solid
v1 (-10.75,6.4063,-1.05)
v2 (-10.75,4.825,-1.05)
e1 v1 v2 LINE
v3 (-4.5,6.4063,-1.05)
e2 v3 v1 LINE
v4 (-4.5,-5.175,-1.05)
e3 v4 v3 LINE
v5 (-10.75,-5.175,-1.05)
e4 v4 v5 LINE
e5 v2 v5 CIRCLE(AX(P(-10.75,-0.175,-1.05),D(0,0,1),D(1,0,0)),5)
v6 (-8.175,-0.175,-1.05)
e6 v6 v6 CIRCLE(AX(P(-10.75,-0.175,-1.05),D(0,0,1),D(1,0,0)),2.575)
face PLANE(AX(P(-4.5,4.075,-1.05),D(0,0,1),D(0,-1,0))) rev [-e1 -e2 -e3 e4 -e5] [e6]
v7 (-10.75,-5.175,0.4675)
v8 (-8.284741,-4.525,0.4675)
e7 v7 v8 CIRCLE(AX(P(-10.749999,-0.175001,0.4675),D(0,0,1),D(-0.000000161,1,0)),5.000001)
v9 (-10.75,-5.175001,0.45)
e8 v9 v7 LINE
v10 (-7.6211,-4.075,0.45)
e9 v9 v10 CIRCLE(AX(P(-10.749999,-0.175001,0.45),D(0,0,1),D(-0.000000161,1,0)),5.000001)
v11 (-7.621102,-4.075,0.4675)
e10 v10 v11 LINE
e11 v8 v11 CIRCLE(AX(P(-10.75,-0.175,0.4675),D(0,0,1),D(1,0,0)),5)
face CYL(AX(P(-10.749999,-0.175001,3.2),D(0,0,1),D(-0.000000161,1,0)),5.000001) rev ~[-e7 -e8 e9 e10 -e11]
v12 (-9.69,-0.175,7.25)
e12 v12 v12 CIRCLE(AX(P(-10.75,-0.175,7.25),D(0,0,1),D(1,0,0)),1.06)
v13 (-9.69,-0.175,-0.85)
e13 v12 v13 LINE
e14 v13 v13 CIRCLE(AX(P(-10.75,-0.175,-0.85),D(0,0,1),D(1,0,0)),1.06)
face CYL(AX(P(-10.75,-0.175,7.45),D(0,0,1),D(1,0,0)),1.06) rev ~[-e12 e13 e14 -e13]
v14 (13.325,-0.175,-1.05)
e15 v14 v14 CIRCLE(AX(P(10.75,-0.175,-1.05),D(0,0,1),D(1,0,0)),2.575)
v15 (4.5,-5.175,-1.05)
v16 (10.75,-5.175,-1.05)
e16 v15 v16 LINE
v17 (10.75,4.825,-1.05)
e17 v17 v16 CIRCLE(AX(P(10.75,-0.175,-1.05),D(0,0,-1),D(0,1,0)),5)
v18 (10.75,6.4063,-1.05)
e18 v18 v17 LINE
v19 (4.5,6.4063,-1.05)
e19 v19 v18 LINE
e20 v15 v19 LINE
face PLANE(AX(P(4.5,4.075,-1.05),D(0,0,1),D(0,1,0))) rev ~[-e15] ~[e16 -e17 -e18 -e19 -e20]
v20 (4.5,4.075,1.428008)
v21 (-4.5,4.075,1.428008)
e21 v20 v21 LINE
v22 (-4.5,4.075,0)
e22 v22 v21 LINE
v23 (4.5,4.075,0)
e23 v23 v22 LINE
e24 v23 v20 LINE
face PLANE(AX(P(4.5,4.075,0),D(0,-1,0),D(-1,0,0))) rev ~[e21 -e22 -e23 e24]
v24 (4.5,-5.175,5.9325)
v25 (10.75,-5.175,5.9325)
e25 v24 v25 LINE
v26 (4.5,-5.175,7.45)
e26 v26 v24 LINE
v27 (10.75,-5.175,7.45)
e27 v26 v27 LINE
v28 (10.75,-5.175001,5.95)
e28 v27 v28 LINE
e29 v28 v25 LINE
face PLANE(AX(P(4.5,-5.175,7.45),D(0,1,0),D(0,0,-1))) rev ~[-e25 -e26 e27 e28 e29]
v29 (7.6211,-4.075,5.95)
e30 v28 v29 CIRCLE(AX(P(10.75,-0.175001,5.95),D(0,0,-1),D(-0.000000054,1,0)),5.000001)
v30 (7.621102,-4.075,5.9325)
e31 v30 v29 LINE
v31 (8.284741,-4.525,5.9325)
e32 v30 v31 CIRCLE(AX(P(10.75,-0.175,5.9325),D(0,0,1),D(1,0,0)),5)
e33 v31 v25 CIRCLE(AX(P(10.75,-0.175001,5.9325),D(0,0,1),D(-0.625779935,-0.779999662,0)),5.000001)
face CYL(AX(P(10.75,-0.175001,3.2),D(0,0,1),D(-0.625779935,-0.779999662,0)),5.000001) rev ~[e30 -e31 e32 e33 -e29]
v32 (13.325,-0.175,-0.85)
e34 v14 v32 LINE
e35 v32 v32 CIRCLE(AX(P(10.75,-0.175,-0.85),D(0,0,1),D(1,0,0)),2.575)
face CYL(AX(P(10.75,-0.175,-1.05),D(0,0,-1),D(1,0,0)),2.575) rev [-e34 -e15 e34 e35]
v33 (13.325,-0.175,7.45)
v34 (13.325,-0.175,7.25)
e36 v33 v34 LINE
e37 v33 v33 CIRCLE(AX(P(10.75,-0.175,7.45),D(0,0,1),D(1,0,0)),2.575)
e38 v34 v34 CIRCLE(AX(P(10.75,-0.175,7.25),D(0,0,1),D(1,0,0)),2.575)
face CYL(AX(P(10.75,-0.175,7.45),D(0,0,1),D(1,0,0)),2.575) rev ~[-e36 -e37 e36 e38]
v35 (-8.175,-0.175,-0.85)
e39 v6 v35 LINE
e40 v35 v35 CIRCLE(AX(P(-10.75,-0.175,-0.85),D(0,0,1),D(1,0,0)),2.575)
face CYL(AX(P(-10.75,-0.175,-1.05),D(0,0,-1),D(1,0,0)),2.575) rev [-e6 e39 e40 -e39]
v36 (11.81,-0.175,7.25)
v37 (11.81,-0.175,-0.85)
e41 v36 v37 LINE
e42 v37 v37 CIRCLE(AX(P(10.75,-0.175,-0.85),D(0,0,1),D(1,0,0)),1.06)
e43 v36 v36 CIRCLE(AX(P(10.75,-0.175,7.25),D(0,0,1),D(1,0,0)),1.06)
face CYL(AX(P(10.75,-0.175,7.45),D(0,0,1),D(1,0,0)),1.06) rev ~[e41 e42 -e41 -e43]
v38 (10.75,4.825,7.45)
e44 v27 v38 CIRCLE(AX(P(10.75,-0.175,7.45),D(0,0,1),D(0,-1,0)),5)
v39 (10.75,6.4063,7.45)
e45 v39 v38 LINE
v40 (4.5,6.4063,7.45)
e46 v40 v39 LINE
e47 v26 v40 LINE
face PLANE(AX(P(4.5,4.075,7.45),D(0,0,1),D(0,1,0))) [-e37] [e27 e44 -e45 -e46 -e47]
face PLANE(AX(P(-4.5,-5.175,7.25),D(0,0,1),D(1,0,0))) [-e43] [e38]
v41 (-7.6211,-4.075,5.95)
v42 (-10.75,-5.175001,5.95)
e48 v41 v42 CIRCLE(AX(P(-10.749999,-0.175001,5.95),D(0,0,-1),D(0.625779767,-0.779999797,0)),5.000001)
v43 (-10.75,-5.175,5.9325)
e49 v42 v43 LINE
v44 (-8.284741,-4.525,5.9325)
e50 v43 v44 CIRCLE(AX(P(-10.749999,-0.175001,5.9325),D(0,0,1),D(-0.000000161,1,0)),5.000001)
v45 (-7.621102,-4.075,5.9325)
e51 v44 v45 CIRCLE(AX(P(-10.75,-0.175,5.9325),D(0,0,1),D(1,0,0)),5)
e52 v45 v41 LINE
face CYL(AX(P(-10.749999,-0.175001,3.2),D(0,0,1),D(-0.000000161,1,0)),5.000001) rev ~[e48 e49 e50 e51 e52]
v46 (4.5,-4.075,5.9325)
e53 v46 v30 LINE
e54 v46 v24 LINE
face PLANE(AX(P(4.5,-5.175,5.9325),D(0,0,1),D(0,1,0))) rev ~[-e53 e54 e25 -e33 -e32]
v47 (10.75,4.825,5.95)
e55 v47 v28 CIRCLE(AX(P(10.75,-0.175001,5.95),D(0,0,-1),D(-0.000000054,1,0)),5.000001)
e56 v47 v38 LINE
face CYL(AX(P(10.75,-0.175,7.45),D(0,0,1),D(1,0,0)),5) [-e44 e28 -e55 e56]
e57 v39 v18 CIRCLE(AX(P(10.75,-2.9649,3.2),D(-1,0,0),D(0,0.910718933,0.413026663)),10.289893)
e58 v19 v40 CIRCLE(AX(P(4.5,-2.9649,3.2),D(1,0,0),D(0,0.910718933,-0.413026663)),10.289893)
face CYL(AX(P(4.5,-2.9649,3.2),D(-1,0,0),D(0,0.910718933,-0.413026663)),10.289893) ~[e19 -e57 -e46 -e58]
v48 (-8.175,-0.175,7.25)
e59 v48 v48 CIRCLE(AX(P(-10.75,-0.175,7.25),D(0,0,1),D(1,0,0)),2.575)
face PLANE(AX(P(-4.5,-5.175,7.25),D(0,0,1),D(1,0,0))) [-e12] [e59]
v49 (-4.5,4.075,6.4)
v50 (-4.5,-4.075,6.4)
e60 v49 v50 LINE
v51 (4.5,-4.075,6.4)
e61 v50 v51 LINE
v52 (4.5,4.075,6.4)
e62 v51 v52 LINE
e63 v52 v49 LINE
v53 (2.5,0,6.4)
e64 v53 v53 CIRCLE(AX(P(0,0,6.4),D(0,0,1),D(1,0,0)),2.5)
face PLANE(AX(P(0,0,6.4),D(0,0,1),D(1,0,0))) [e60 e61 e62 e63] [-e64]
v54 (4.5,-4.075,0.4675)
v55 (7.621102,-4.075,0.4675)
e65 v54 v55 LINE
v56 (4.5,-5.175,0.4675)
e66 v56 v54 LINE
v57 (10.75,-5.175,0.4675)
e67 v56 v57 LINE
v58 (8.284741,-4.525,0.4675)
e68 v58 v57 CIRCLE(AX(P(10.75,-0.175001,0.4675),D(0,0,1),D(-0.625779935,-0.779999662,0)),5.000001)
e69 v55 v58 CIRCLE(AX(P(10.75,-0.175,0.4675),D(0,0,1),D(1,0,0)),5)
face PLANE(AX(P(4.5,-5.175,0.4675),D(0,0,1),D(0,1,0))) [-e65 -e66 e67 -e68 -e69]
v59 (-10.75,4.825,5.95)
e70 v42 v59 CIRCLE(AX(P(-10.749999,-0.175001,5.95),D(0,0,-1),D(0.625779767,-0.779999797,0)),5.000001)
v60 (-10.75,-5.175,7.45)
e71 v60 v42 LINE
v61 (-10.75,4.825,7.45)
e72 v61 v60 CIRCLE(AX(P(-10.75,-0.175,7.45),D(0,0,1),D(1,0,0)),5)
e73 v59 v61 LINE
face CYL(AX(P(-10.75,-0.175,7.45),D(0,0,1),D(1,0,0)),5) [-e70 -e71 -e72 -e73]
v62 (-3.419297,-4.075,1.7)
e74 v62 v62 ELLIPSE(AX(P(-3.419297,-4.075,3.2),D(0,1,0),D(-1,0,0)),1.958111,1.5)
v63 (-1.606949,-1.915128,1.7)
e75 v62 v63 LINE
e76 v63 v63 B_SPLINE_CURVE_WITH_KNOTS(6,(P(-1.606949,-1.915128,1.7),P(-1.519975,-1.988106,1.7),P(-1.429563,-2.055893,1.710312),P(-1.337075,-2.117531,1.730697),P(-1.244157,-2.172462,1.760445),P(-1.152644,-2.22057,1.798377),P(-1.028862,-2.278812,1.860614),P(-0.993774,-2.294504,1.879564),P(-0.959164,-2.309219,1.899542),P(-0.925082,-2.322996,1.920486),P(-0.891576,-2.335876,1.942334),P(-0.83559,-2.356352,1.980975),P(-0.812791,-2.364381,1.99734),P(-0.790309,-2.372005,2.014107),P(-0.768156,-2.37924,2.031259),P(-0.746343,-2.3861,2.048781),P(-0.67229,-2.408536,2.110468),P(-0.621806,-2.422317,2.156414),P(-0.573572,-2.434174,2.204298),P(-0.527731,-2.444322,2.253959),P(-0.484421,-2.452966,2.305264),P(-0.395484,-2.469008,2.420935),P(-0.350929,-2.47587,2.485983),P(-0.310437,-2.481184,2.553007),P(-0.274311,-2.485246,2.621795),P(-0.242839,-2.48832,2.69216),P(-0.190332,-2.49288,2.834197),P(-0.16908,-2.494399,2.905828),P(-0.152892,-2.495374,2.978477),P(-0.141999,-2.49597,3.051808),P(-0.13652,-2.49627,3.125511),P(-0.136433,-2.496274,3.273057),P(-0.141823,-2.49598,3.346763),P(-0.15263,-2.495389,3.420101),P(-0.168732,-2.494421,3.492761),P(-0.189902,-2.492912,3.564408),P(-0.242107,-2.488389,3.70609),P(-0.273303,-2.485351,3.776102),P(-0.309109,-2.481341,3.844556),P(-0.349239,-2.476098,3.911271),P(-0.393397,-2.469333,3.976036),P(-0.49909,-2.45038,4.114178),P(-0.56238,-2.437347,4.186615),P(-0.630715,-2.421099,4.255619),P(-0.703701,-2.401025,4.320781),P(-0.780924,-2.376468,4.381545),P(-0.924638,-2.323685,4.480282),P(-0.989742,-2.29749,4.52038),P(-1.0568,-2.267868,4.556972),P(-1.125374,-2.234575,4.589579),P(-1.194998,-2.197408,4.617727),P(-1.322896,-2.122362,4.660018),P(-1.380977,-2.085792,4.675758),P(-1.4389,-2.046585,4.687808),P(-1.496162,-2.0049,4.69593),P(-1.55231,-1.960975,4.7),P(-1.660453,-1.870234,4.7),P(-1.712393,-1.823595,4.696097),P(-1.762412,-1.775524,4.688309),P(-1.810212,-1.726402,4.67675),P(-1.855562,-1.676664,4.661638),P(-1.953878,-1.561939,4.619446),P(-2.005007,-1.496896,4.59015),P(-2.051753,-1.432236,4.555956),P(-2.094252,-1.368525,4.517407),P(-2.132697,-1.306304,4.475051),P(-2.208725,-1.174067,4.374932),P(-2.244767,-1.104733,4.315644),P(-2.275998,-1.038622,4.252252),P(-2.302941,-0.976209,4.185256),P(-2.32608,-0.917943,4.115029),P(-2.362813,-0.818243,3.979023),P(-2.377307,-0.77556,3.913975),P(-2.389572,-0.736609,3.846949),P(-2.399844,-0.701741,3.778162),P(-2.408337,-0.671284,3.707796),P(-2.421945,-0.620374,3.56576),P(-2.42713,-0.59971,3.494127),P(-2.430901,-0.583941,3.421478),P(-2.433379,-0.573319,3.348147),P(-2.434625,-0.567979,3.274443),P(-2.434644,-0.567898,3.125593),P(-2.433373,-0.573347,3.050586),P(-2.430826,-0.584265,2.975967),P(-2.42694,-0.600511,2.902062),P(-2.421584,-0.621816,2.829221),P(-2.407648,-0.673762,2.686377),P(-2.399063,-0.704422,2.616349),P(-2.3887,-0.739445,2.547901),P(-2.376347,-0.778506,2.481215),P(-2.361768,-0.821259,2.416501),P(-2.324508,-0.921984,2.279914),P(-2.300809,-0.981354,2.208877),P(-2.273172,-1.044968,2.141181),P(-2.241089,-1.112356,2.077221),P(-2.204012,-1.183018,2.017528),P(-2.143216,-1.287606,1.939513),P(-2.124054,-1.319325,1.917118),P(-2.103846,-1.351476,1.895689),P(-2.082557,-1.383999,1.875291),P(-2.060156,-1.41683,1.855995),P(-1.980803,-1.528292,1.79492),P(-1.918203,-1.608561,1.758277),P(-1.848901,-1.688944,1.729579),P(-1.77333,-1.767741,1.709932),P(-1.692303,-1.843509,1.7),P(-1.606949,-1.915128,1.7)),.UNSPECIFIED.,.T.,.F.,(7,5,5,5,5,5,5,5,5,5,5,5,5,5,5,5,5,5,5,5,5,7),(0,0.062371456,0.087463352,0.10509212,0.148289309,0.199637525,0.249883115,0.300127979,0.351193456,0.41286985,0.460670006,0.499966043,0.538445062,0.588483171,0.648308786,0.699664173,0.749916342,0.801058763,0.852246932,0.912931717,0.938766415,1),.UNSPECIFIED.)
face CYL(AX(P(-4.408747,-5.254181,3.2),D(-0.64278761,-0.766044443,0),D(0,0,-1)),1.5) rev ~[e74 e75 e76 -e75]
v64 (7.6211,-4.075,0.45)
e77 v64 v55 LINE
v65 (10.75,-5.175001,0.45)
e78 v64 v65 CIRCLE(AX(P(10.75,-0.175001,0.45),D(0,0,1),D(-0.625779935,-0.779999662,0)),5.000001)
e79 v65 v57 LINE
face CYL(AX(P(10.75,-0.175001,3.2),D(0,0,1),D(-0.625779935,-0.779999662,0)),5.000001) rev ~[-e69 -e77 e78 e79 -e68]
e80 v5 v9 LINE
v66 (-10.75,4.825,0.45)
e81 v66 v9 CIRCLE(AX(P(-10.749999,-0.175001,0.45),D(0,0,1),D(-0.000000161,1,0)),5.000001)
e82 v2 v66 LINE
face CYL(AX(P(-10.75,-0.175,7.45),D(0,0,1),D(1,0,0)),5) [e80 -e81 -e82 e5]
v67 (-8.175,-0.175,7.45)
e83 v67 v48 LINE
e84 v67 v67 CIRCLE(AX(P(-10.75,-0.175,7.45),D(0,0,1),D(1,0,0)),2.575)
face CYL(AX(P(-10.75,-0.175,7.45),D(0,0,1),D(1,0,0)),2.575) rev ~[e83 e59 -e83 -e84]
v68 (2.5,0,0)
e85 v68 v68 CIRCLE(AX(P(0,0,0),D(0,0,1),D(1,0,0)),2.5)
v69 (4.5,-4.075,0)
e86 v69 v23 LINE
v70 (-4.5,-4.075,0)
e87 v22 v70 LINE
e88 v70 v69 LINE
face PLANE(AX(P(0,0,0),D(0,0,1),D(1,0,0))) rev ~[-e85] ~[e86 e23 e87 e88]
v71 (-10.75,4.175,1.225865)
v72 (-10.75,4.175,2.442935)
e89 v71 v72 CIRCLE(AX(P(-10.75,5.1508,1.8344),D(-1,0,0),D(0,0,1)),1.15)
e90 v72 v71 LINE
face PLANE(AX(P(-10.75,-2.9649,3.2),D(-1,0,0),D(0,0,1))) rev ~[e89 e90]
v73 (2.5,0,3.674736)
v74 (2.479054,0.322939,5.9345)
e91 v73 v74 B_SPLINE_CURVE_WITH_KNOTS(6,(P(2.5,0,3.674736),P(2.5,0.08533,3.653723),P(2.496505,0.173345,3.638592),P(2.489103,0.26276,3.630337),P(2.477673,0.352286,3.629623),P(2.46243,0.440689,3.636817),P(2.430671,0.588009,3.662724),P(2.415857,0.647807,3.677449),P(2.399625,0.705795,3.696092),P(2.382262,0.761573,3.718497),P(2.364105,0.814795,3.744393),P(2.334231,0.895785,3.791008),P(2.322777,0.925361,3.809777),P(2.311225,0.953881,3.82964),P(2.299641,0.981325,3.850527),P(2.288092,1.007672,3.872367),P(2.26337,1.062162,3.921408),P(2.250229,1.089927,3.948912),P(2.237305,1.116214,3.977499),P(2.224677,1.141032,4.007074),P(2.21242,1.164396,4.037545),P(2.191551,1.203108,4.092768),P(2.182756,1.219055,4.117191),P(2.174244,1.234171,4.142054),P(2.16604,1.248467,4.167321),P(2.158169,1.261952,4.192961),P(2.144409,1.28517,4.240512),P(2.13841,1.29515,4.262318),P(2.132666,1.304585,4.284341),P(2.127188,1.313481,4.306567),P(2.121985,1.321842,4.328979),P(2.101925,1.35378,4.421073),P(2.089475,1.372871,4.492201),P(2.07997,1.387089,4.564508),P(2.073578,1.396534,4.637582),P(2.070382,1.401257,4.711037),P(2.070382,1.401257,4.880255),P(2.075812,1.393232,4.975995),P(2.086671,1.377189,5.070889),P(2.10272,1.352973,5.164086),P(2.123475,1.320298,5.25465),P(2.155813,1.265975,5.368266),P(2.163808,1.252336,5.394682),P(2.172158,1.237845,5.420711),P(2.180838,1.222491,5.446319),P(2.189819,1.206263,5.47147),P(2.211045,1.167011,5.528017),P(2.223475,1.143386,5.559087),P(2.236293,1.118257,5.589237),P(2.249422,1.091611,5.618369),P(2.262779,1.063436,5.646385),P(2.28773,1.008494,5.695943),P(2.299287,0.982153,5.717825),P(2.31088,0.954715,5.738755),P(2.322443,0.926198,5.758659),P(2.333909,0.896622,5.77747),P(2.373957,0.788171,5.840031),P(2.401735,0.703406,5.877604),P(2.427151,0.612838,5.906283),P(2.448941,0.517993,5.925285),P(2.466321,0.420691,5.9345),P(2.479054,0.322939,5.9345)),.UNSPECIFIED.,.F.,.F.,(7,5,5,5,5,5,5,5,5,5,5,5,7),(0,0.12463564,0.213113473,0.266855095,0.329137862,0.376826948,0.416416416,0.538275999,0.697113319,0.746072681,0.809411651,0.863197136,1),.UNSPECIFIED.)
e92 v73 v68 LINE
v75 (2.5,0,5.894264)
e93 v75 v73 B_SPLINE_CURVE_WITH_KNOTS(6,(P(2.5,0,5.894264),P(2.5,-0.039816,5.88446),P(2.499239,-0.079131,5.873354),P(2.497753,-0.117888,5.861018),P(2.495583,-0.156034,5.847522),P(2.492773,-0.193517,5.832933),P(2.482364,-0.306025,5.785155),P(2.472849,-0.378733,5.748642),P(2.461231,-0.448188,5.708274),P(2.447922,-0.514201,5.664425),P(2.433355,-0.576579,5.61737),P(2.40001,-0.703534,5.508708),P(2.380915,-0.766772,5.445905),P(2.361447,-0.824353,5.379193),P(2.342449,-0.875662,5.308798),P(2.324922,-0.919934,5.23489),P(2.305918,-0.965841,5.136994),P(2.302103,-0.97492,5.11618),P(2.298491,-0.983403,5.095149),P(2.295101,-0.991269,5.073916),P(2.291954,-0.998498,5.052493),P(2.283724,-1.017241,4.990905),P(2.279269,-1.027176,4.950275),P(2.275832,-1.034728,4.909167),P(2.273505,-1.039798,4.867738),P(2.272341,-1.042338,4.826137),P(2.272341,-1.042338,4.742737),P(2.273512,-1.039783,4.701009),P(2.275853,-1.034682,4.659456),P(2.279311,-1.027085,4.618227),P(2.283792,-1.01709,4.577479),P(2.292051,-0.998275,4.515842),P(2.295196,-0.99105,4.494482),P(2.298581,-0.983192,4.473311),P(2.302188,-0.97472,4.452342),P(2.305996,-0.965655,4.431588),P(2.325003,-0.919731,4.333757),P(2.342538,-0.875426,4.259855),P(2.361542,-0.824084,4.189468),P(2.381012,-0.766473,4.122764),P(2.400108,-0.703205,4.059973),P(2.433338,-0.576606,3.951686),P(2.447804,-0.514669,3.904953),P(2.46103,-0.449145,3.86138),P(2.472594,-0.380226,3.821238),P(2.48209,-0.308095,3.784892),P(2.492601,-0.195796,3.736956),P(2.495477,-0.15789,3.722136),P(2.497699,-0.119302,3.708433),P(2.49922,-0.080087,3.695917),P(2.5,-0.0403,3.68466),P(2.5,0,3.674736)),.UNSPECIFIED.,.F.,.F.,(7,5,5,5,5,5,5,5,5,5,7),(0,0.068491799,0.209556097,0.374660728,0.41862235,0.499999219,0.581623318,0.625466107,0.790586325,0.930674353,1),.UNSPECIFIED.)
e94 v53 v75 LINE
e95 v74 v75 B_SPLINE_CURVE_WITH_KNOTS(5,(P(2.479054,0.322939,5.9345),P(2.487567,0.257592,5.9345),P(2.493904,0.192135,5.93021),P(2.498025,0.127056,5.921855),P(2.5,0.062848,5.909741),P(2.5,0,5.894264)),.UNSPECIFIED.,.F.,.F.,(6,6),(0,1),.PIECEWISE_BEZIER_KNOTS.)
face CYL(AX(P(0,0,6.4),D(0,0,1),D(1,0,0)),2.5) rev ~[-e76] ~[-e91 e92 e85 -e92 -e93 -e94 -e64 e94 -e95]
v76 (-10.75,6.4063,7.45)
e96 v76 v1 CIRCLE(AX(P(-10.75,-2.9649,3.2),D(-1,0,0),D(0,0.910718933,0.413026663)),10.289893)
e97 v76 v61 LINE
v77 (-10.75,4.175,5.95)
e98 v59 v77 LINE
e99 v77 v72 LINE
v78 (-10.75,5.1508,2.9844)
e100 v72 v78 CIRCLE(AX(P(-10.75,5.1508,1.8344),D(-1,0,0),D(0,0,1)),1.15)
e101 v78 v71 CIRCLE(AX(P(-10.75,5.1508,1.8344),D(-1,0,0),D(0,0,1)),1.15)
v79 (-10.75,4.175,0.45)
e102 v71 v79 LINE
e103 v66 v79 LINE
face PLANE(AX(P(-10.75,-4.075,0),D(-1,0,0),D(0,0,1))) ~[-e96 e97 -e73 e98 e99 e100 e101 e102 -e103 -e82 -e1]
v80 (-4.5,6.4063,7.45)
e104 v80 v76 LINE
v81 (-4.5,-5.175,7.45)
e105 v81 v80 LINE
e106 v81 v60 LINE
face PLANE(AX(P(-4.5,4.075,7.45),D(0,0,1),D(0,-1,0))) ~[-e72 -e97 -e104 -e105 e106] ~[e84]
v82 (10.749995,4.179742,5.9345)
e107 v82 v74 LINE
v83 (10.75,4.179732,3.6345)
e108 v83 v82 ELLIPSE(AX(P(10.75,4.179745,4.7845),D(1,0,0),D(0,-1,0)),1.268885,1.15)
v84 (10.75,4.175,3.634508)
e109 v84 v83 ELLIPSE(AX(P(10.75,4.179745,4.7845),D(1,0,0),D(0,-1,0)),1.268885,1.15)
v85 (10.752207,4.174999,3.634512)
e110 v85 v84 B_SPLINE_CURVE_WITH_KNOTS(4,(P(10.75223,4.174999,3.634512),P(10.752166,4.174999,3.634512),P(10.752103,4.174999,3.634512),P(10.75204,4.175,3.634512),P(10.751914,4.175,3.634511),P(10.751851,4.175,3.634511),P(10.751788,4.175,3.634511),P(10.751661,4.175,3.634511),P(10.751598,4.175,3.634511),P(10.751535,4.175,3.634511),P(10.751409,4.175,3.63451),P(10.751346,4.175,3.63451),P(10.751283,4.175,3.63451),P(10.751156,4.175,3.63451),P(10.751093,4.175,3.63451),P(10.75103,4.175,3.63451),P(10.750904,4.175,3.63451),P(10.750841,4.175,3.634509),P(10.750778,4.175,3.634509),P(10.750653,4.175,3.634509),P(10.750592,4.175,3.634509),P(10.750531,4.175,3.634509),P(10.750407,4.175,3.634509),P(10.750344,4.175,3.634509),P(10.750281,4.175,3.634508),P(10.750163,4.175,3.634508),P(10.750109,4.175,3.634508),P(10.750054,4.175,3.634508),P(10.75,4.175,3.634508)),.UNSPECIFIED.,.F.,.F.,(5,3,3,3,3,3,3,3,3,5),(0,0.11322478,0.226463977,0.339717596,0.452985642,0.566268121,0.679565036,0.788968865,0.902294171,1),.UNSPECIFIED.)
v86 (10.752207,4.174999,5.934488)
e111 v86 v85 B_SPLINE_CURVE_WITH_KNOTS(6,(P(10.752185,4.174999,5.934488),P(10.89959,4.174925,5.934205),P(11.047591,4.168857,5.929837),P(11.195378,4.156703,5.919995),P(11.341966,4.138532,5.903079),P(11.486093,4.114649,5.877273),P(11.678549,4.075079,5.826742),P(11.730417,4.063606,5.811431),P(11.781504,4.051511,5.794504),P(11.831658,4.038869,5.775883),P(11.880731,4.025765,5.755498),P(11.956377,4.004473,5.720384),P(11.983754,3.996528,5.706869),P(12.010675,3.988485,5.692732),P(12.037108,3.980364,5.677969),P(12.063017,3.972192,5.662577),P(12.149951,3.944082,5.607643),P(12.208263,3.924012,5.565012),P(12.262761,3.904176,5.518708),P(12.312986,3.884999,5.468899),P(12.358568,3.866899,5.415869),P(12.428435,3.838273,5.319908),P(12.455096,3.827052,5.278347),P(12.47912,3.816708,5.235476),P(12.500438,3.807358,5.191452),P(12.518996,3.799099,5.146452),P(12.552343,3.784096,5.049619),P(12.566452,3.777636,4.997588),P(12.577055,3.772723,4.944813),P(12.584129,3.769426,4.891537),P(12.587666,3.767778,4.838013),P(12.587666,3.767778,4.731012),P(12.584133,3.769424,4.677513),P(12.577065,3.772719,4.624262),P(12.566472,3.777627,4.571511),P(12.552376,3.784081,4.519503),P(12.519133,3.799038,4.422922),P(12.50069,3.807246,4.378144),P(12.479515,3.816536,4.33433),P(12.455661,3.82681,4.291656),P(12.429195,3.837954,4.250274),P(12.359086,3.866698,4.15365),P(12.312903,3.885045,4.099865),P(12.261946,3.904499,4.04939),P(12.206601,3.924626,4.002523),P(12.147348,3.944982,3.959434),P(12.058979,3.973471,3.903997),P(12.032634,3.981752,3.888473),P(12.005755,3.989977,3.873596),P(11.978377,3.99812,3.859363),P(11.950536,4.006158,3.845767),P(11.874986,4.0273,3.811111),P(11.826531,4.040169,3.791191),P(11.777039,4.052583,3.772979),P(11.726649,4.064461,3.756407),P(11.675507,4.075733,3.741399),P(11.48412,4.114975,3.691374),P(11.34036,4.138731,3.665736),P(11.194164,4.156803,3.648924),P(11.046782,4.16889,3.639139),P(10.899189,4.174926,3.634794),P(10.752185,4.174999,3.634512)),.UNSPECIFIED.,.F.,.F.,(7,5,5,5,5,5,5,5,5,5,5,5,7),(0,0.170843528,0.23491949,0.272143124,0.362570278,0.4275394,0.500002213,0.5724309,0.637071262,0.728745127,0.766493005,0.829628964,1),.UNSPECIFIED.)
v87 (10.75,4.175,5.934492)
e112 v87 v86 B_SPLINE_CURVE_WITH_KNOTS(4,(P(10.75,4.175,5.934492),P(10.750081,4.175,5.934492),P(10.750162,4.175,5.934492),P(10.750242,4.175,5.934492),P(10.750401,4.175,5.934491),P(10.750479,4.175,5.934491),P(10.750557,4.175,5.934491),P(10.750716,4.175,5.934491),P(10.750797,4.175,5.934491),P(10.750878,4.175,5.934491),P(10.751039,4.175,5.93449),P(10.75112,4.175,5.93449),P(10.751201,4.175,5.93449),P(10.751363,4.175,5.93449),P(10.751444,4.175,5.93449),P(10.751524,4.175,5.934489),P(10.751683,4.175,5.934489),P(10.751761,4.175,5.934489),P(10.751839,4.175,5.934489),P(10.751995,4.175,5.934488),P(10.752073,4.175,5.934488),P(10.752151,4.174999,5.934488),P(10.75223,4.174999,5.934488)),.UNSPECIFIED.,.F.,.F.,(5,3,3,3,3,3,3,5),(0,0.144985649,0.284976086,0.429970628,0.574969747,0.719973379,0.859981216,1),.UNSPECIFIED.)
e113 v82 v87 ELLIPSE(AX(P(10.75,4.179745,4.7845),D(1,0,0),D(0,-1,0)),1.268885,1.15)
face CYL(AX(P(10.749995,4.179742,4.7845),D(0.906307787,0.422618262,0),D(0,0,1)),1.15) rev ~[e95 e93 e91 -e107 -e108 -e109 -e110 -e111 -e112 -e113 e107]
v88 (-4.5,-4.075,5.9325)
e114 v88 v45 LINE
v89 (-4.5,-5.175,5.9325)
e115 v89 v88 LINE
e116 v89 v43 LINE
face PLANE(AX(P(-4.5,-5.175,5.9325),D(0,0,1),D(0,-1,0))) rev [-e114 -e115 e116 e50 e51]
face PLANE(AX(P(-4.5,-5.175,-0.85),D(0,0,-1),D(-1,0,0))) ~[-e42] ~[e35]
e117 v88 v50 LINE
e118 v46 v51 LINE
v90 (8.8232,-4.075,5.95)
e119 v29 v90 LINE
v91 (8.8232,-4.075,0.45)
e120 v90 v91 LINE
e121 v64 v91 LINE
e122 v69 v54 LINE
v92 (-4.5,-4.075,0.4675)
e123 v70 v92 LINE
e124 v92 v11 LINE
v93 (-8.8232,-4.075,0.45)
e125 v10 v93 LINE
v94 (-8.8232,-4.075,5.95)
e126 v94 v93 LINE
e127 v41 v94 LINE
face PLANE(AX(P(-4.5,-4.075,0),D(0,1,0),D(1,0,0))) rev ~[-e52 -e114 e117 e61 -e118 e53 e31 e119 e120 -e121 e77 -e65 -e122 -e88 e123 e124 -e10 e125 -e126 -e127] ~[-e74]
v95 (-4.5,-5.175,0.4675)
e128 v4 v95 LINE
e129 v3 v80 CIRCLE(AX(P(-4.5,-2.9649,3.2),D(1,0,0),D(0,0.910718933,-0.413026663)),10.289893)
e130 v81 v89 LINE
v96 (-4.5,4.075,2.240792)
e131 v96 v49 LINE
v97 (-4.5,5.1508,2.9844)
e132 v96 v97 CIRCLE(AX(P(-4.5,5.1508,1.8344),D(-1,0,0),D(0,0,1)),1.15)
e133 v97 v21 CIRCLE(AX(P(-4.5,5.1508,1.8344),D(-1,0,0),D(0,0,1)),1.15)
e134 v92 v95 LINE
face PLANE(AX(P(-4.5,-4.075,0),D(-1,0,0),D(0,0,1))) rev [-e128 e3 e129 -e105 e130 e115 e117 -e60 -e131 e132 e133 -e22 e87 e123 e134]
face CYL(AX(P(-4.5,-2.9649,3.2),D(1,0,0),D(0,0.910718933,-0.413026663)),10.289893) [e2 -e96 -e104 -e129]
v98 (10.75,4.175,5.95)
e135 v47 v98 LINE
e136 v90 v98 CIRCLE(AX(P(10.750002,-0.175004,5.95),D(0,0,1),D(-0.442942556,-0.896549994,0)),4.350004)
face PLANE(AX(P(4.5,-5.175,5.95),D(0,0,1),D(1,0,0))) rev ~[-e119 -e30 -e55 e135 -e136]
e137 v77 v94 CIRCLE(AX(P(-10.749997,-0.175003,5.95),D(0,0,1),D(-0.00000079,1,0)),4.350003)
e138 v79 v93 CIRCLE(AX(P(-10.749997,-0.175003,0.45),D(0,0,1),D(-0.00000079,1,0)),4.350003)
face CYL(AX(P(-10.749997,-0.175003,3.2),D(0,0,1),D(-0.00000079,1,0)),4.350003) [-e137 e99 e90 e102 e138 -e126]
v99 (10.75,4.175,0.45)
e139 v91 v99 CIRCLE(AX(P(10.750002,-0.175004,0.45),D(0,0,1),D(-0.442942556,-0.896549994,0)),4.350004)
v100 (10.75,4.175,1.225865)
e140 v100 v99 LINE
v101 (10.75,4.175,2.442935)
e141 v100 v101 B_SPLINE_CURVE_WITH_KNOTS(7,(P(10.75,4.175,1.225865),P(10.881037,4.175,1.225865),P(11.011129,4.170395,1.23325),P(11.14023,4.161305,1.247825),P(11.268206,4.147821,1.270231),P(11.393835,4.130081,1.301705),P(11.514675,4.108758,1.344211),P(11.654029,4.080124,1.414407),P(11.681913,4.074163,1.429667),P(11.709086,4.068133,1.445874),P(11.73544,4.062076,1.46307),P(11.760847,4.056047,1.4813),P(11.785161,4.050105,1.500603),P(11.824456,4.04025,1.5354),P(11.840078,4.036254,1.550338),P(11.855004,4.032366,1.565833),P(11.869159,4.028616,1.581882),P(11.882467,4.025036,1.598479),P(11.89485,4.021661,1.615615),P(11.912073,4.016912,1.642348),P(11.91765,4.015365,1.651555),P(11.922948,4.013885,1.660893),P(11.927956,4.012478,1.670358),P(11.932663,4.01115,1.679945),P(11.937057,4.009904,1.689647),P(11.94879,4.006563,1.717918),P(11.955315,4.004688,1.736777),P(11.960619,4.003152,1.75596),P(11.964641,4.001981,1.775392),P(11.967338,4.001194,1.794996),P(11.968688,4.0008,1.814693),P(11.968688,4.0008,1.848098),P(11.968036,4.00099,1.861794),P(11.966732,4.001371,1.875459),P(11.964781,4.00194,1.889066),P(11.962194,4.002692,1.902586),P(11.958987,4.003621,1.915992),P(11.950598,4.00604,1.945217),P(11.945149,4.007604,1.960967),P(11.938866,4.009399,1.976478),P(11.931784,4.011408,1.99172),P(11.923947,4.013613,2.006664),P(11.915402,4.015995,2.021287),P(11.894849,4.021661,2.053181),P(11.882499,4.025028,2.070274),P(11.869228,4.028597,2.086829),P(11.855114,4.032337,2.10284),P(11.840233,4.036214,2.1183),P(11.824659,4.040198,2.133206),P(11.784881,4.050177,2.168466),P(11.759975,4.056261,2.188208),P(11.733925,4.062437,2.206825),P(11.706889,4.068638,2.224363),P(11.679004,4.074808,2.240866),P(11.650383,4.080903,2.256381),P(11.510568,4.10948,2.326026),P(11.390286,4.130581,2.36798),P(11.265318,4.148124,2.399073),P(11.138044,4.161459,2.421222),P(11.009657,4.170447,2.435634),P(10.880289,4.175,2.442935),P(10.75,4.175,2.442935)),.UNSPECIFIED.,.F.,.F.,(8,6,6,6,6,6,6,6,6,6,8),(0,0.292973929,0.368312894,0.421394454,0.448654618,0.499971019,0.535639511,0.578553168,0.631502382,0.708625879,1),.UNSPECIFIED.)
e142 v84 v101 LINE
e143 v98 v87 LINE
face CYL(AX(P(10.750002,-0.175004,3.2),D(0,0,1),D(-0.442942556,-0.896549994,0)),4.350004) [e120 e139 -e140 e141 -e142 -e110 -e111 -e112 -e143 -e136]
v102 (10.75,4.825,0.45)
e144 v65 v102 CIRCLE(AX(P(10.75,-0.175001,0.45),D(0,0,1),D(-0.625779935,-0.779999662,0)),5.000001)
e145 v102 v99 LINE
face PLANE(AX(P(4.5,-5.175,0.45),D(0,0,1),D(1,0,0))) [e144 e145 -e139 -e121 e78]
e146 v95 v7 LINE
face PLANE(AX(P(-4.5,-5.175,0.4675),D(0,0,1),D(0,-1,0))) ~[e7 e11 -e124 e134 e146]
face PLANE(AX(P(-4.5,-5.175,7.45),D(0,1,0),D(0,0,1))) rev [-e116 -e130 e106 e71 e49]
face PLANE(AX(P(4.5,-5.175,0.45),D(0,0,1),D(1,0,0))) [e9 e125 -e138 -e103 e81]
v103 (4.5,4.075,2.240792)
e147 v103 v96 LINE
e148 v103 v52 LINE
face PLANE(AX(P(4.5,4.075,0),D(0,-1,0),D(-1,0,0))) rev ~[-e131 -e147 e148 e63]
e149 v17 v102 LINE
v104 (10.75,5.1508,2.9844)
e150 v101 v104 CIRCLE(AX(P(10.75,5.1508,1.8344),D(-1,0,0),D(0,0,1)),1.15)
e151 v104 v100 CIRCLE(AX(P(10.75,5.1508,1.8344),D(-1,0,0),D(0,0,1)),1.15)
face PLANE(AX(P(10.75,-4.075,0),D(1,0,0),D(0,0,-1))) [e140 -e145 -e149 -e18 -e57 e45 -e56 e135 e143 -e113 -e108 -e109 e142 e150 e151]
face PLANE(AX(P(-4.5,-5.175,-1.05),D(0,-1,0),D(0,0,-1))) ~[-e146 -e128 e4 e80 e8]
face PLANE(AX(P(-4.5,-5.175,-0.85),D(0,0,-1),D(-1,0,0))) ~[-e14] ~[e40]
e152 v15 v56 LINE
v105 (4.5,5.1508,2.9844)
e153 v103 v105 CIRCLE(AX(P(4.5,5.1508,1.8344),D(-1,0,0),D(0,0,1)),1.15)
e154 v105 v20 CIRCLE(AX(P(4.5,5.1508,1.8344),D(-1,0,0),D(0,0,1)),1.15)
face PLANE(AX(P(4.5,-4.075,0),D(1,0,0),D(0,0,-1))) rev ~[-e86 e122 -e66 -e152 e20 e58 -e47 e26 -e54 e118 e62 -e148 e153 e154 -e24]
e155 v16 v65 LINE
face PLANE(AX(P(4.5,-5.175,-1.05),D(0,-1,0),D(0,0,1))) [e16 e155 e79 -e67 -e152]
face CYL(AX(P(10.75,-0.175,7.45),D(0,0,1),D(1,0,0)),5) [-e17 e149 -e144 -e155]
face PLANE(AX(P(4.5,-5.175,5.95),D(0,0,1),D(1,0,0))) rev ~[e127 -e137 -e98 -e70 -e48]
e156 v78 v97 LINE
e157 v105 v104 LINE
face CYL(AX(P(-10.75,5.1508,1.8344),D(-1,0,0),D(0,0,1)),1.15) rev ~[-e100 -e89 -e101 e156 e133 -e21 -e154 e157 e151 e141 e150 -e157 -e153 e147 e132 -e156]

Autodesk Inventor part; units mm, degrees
sketch "Sketch1" plane through (0, 0, 0) normal (0, 0, 1) x (1, 0, 0)
  line L0 (-4.5, -4.075) -> (4.5, -4.075)
  line L1 (4.5, -4.075) -> (4.5, 4.075)
  line L2 (4.5, 4.075) -> (-4.5, 4.075)
  line L3 (-4.5, 4.075) -> (-4.5, -4.075)
  line L4 (-4.5, -4.075) -> (4.5, 4.075) construction
  line L5 (4.5, -4.075) -> (-4.5, 4.075) construction
  point P0 (0, 0)
  dimension "d0" = 9
  dimension "d1" = 8.15
extrude "Extrusion1" add sketch "Sketch1" along normal blind 6.4
sketch "Sketch2" plane through (4.5, -4.075, 0) normal (1, 0, 0) x (0, 0, -1)
  line L0 (0, 8.15) -> (-6.4, 8.15) projected
  line L1 (-3.2, 8.15) -> (-3.2, 11.4)
  line L2 (-3.2, 8.15) -> (-7.45, 8.15)
  line L3 (-7.45, 8.15) -> (-7.45, -1.1)
  line L4 (0, 0) -> (-6.4, 0) projected
  line L5 (-5.9325, -1.1) -> (-5.9325, 0)
  line L6 (-7.45, -1.1) -> (-5.9325, -1.1)
  line L7 (-7.45, 8.15) -> (-7.45, 13.2689)
  line L8 (1.05, 8.15) -> (1.05, -1.1)
  line L9 (-0.4675, -1.1) -> (-0.4675, 0)
  line L10 (1.05, -1.1) -> (-0.4675, -1.1)
  line L11 (1.05, 8.15) -> (1.05, 13.2689)
  arc A0 (1.05, 10.4813) -> (-7.45, 10.4813) centre (-3.2, 1.1101) ccw
  line L12 (-7.45, 10.4813) -> (1.05, 10.4813) construction
  line L13 (-7.45, 10.4813) -> (1.05, 10.4813) construction
  point P0 (0, 4.075)
  point P1 (-0.4675, 0)
  dimension "d4" = 3.25
  dimension "d5" = 4.25
  dimension "d6" = 9.25
  dimension "d8" = 0
extrude "Extrusion2" add sketch "Sketch2" along normal blind 6.25
mirror "Mirror1" about plane through (0, 0, 0) normal (1, 0, 0) of "Extrusion2"
sketch "Sketch3" plane through (4.5, -5.175, 7.45) normal (0, 0, 1) x (1, 0, 0)
  line L0 (6.25, 0) -> (6.25, 11.5813) projected
  circle A0 centre (6.25, 5) radius 5
  line L1 (-4.5, 5.175) -> (-4.5, 2.6281)
  circle A1 centre (-15.25, 5) radius 5
  dimension "d11" = 10
extrude "Extrusion3" add sketch "Sketch3" against normal up to surface (8.5 mm away)
sketch "Sketch4" plane through (0, 0, 0) normal (1, 0, 0) x (0, 1, 0)
  line L0 (-5.175, 5.9325) -> (-4.075, 5.9325) projected
  line L1 (-4.075, 5.9325) -> (-4.075, 0.4675) projected
  line L2 (-4.075, 0.4675) -> (-5.175, 0.4675) projected
  line L3 (-5.175, 7.45) -> (-5.175, 5.9325) projected
  line L4 (-5.175, 0.4675) -> (-5.175, -1.05) projected
  line L5 (-5.175, 5.9325) -> (-5.175, 0.4675)
  line L6 (-5.175, 0.4675) -> (-4.525, 0.4675)
  line L7 (-4.525, 0.4675) -> (-4.525, 5.9325)
  line L8 (-5.175, 5.9325) -> (-4.075, 5.9325) projected
  line L9 (-4.525, 5.9325) -> (-5.175, 5.9325)
  point P0 (0, 0)
  dimension "d25" = 0.65
extrude "Extrusion4" cut sketch "Sketch4" against normal through all both and the other way through all contours L0 L7 L2 L5
sketch "Sketch5" plane through (4.5, -5.175, 7.45) normal (0, 0, 1) x (1, 0, 0)
  arc A0 (6.25, 0) -> (6.25, 10) centre (6.25, 5) ccw projected
  circle A1 centre (6.25, 5) radius 1.06
  line L0 (-4.5, 5.175) -> (-4.5, 8.0603)
  circle A2 centre (-15.25, 5) radius 1.06
  dimension "d16" = 2.12
extrude "Extrusion5" cut sketch "Sketch5" against normal through all
ref_plane "Work Plane1" through (4.5, -5.175, 3.2) normal (0, 0, 1) x (1, 0, 0)
sketch "Sketch6" plane through (4.5, -5.175, 3.2) normal (0, 0, 1) x (1, 0, 0)
  circle A0 centre (6.25, 5) radius 1.06 projected
  arc A1 (3.1211, 1.1) -> (6.25, 10) centre (6.25, 5) ccw
  arc A2 (4.3232, 1.1) -> (6.25, 9.35) centre (6.25, 5) ccw
  line L0 (-4.5, 5.175) -> (-4.5, 10.9933)
  line L1 (0, 1.1) -> (3.1211, 1.1) projected
  line L2 (3.1211, 1.1) -> (4.3232, 1.1)
  arc A3 (6.25, 0) -> (6.25, 10) centre (6.25, 5) ccw projected
  line L3 (6.25, 10) -> (6.25, 9.35)
  line L4 (6.25, 10) -> (6.25, 11.5813) projected
  circle A4 centre (-15.25, 5) radius 1.06
  arc A5 (-15.25, 10) -> (-12.1211, 1.1) centre (-15.25, 5) ccw
  arc A6 (-15.25, 9.35) -> (-13.3232, 1.1) centre (-15.25, 5) ccw
  line L5 (-12.1211, 1.1) -> (-13.3232, 1.1)
  arc A7 (-15.25, 10) -> (-15.25, 0) centre (-15.25, 5) ccw
  line L6 (-15.25, 10) -> (-15.25, 9.35)
  dimension "d19" = 8.7
extrude "Extrusion6" cut sketch "Sketch6" against normal mid plane 5.5 contours L2 A2 L3 A1 | L6 A6 L5 A5
sketch "Sketch7" plane through (0, 0, 6.4) normal (0, 0, 1) x (1, 0, 0)
  circle A0 centre (0, 0) radius 2.5
  dimension "d22" = 5
extrude "Extrusion7" cut sketch "Sketch7" against normal through all
ref_plane "Work Plane2" through (-4.5, -5.175, 7.45) normal (-0.6428, -0.766, 0) x (0, 0, -1)
sketch "Sketch8" plane through (-4.5, -5.175, 7.45) normal (-0.6428, -0.766, 0) x (0, 0, -1)
  line L0 (7.45, 2.6208) -> (7.45, -2.3792) projected
  line L1 (1.05, -2.3792) -> (1.05, 2.6208) projected
  line L2 (1.05, 0.1208) -> (7.45, 0.1208)
  circle A0 centre (4.25, 0.1208) radius 1.5
  dimension "d27" = 3
extrude "Extrusion8" cut sketch "Sketch8" against normal blind 5.5
ref_plane "Work Plane3" through (10.75, 4.175, 3.2) normal (0.9063, 0.4226, 0) x (0, 0, 1)
sketch "Sketch9" plane through (10.75, 4.175, 3.2) normal (0.9063, 0.4226, 0) x (0, 0, 1)
  line L0 (-3.2, -3.2593) -> (-3.2, 1.7407) projected
  line L1 (3.2, 1.7407) -> (3.2, -3.2593) projected
  circle A0 centre (1.5845, -0.0043) radius 1.15
  point P0 (-3.2, -0.7593)
  point P1 (0, 1.4454)
  dimension "d31" = 2.3
extrude "Extrusion9" cut sketch "Sketch9" along normal blind 5.5 and the other way blind 11.25
sketch "Sketch10" plane through (-10.75, -2.9649, 3.2) normal (-1, 0, 0) x (0, 0, 1)
  circle A0 centre (-1.3656, 8.1157) radius 1.15
  point P0 (-3.2, 2.9649)
  dimension "d36" = 2.3
extrude "Extrusion10" cut sketch "Sketch10" against normal through all
sketch "Sketch11" plane through (-4.5, -5.175, 7.45) normal (0, 0, 1) x (1, 0, 0)
  circle A0 centre (-6.25, 5) radius 1.06 projected
  circle A1 centre (-6.25, 5) radius 2.575
  line L0 (4.5, 5.175) -> (4.5, 11.4443)
  circle A2 centre (15.25, 5) radius 2.575
  dimension "d39" = 5.15
extrude "Extrusion11" cut sketch "Sketch11" against normal blind 0.2
mirror "Mirror2" about plane through (4.5, -5.175, 3.2) normal (0, 0, 1) of "Extrusion11"
properties part number "Middle"
